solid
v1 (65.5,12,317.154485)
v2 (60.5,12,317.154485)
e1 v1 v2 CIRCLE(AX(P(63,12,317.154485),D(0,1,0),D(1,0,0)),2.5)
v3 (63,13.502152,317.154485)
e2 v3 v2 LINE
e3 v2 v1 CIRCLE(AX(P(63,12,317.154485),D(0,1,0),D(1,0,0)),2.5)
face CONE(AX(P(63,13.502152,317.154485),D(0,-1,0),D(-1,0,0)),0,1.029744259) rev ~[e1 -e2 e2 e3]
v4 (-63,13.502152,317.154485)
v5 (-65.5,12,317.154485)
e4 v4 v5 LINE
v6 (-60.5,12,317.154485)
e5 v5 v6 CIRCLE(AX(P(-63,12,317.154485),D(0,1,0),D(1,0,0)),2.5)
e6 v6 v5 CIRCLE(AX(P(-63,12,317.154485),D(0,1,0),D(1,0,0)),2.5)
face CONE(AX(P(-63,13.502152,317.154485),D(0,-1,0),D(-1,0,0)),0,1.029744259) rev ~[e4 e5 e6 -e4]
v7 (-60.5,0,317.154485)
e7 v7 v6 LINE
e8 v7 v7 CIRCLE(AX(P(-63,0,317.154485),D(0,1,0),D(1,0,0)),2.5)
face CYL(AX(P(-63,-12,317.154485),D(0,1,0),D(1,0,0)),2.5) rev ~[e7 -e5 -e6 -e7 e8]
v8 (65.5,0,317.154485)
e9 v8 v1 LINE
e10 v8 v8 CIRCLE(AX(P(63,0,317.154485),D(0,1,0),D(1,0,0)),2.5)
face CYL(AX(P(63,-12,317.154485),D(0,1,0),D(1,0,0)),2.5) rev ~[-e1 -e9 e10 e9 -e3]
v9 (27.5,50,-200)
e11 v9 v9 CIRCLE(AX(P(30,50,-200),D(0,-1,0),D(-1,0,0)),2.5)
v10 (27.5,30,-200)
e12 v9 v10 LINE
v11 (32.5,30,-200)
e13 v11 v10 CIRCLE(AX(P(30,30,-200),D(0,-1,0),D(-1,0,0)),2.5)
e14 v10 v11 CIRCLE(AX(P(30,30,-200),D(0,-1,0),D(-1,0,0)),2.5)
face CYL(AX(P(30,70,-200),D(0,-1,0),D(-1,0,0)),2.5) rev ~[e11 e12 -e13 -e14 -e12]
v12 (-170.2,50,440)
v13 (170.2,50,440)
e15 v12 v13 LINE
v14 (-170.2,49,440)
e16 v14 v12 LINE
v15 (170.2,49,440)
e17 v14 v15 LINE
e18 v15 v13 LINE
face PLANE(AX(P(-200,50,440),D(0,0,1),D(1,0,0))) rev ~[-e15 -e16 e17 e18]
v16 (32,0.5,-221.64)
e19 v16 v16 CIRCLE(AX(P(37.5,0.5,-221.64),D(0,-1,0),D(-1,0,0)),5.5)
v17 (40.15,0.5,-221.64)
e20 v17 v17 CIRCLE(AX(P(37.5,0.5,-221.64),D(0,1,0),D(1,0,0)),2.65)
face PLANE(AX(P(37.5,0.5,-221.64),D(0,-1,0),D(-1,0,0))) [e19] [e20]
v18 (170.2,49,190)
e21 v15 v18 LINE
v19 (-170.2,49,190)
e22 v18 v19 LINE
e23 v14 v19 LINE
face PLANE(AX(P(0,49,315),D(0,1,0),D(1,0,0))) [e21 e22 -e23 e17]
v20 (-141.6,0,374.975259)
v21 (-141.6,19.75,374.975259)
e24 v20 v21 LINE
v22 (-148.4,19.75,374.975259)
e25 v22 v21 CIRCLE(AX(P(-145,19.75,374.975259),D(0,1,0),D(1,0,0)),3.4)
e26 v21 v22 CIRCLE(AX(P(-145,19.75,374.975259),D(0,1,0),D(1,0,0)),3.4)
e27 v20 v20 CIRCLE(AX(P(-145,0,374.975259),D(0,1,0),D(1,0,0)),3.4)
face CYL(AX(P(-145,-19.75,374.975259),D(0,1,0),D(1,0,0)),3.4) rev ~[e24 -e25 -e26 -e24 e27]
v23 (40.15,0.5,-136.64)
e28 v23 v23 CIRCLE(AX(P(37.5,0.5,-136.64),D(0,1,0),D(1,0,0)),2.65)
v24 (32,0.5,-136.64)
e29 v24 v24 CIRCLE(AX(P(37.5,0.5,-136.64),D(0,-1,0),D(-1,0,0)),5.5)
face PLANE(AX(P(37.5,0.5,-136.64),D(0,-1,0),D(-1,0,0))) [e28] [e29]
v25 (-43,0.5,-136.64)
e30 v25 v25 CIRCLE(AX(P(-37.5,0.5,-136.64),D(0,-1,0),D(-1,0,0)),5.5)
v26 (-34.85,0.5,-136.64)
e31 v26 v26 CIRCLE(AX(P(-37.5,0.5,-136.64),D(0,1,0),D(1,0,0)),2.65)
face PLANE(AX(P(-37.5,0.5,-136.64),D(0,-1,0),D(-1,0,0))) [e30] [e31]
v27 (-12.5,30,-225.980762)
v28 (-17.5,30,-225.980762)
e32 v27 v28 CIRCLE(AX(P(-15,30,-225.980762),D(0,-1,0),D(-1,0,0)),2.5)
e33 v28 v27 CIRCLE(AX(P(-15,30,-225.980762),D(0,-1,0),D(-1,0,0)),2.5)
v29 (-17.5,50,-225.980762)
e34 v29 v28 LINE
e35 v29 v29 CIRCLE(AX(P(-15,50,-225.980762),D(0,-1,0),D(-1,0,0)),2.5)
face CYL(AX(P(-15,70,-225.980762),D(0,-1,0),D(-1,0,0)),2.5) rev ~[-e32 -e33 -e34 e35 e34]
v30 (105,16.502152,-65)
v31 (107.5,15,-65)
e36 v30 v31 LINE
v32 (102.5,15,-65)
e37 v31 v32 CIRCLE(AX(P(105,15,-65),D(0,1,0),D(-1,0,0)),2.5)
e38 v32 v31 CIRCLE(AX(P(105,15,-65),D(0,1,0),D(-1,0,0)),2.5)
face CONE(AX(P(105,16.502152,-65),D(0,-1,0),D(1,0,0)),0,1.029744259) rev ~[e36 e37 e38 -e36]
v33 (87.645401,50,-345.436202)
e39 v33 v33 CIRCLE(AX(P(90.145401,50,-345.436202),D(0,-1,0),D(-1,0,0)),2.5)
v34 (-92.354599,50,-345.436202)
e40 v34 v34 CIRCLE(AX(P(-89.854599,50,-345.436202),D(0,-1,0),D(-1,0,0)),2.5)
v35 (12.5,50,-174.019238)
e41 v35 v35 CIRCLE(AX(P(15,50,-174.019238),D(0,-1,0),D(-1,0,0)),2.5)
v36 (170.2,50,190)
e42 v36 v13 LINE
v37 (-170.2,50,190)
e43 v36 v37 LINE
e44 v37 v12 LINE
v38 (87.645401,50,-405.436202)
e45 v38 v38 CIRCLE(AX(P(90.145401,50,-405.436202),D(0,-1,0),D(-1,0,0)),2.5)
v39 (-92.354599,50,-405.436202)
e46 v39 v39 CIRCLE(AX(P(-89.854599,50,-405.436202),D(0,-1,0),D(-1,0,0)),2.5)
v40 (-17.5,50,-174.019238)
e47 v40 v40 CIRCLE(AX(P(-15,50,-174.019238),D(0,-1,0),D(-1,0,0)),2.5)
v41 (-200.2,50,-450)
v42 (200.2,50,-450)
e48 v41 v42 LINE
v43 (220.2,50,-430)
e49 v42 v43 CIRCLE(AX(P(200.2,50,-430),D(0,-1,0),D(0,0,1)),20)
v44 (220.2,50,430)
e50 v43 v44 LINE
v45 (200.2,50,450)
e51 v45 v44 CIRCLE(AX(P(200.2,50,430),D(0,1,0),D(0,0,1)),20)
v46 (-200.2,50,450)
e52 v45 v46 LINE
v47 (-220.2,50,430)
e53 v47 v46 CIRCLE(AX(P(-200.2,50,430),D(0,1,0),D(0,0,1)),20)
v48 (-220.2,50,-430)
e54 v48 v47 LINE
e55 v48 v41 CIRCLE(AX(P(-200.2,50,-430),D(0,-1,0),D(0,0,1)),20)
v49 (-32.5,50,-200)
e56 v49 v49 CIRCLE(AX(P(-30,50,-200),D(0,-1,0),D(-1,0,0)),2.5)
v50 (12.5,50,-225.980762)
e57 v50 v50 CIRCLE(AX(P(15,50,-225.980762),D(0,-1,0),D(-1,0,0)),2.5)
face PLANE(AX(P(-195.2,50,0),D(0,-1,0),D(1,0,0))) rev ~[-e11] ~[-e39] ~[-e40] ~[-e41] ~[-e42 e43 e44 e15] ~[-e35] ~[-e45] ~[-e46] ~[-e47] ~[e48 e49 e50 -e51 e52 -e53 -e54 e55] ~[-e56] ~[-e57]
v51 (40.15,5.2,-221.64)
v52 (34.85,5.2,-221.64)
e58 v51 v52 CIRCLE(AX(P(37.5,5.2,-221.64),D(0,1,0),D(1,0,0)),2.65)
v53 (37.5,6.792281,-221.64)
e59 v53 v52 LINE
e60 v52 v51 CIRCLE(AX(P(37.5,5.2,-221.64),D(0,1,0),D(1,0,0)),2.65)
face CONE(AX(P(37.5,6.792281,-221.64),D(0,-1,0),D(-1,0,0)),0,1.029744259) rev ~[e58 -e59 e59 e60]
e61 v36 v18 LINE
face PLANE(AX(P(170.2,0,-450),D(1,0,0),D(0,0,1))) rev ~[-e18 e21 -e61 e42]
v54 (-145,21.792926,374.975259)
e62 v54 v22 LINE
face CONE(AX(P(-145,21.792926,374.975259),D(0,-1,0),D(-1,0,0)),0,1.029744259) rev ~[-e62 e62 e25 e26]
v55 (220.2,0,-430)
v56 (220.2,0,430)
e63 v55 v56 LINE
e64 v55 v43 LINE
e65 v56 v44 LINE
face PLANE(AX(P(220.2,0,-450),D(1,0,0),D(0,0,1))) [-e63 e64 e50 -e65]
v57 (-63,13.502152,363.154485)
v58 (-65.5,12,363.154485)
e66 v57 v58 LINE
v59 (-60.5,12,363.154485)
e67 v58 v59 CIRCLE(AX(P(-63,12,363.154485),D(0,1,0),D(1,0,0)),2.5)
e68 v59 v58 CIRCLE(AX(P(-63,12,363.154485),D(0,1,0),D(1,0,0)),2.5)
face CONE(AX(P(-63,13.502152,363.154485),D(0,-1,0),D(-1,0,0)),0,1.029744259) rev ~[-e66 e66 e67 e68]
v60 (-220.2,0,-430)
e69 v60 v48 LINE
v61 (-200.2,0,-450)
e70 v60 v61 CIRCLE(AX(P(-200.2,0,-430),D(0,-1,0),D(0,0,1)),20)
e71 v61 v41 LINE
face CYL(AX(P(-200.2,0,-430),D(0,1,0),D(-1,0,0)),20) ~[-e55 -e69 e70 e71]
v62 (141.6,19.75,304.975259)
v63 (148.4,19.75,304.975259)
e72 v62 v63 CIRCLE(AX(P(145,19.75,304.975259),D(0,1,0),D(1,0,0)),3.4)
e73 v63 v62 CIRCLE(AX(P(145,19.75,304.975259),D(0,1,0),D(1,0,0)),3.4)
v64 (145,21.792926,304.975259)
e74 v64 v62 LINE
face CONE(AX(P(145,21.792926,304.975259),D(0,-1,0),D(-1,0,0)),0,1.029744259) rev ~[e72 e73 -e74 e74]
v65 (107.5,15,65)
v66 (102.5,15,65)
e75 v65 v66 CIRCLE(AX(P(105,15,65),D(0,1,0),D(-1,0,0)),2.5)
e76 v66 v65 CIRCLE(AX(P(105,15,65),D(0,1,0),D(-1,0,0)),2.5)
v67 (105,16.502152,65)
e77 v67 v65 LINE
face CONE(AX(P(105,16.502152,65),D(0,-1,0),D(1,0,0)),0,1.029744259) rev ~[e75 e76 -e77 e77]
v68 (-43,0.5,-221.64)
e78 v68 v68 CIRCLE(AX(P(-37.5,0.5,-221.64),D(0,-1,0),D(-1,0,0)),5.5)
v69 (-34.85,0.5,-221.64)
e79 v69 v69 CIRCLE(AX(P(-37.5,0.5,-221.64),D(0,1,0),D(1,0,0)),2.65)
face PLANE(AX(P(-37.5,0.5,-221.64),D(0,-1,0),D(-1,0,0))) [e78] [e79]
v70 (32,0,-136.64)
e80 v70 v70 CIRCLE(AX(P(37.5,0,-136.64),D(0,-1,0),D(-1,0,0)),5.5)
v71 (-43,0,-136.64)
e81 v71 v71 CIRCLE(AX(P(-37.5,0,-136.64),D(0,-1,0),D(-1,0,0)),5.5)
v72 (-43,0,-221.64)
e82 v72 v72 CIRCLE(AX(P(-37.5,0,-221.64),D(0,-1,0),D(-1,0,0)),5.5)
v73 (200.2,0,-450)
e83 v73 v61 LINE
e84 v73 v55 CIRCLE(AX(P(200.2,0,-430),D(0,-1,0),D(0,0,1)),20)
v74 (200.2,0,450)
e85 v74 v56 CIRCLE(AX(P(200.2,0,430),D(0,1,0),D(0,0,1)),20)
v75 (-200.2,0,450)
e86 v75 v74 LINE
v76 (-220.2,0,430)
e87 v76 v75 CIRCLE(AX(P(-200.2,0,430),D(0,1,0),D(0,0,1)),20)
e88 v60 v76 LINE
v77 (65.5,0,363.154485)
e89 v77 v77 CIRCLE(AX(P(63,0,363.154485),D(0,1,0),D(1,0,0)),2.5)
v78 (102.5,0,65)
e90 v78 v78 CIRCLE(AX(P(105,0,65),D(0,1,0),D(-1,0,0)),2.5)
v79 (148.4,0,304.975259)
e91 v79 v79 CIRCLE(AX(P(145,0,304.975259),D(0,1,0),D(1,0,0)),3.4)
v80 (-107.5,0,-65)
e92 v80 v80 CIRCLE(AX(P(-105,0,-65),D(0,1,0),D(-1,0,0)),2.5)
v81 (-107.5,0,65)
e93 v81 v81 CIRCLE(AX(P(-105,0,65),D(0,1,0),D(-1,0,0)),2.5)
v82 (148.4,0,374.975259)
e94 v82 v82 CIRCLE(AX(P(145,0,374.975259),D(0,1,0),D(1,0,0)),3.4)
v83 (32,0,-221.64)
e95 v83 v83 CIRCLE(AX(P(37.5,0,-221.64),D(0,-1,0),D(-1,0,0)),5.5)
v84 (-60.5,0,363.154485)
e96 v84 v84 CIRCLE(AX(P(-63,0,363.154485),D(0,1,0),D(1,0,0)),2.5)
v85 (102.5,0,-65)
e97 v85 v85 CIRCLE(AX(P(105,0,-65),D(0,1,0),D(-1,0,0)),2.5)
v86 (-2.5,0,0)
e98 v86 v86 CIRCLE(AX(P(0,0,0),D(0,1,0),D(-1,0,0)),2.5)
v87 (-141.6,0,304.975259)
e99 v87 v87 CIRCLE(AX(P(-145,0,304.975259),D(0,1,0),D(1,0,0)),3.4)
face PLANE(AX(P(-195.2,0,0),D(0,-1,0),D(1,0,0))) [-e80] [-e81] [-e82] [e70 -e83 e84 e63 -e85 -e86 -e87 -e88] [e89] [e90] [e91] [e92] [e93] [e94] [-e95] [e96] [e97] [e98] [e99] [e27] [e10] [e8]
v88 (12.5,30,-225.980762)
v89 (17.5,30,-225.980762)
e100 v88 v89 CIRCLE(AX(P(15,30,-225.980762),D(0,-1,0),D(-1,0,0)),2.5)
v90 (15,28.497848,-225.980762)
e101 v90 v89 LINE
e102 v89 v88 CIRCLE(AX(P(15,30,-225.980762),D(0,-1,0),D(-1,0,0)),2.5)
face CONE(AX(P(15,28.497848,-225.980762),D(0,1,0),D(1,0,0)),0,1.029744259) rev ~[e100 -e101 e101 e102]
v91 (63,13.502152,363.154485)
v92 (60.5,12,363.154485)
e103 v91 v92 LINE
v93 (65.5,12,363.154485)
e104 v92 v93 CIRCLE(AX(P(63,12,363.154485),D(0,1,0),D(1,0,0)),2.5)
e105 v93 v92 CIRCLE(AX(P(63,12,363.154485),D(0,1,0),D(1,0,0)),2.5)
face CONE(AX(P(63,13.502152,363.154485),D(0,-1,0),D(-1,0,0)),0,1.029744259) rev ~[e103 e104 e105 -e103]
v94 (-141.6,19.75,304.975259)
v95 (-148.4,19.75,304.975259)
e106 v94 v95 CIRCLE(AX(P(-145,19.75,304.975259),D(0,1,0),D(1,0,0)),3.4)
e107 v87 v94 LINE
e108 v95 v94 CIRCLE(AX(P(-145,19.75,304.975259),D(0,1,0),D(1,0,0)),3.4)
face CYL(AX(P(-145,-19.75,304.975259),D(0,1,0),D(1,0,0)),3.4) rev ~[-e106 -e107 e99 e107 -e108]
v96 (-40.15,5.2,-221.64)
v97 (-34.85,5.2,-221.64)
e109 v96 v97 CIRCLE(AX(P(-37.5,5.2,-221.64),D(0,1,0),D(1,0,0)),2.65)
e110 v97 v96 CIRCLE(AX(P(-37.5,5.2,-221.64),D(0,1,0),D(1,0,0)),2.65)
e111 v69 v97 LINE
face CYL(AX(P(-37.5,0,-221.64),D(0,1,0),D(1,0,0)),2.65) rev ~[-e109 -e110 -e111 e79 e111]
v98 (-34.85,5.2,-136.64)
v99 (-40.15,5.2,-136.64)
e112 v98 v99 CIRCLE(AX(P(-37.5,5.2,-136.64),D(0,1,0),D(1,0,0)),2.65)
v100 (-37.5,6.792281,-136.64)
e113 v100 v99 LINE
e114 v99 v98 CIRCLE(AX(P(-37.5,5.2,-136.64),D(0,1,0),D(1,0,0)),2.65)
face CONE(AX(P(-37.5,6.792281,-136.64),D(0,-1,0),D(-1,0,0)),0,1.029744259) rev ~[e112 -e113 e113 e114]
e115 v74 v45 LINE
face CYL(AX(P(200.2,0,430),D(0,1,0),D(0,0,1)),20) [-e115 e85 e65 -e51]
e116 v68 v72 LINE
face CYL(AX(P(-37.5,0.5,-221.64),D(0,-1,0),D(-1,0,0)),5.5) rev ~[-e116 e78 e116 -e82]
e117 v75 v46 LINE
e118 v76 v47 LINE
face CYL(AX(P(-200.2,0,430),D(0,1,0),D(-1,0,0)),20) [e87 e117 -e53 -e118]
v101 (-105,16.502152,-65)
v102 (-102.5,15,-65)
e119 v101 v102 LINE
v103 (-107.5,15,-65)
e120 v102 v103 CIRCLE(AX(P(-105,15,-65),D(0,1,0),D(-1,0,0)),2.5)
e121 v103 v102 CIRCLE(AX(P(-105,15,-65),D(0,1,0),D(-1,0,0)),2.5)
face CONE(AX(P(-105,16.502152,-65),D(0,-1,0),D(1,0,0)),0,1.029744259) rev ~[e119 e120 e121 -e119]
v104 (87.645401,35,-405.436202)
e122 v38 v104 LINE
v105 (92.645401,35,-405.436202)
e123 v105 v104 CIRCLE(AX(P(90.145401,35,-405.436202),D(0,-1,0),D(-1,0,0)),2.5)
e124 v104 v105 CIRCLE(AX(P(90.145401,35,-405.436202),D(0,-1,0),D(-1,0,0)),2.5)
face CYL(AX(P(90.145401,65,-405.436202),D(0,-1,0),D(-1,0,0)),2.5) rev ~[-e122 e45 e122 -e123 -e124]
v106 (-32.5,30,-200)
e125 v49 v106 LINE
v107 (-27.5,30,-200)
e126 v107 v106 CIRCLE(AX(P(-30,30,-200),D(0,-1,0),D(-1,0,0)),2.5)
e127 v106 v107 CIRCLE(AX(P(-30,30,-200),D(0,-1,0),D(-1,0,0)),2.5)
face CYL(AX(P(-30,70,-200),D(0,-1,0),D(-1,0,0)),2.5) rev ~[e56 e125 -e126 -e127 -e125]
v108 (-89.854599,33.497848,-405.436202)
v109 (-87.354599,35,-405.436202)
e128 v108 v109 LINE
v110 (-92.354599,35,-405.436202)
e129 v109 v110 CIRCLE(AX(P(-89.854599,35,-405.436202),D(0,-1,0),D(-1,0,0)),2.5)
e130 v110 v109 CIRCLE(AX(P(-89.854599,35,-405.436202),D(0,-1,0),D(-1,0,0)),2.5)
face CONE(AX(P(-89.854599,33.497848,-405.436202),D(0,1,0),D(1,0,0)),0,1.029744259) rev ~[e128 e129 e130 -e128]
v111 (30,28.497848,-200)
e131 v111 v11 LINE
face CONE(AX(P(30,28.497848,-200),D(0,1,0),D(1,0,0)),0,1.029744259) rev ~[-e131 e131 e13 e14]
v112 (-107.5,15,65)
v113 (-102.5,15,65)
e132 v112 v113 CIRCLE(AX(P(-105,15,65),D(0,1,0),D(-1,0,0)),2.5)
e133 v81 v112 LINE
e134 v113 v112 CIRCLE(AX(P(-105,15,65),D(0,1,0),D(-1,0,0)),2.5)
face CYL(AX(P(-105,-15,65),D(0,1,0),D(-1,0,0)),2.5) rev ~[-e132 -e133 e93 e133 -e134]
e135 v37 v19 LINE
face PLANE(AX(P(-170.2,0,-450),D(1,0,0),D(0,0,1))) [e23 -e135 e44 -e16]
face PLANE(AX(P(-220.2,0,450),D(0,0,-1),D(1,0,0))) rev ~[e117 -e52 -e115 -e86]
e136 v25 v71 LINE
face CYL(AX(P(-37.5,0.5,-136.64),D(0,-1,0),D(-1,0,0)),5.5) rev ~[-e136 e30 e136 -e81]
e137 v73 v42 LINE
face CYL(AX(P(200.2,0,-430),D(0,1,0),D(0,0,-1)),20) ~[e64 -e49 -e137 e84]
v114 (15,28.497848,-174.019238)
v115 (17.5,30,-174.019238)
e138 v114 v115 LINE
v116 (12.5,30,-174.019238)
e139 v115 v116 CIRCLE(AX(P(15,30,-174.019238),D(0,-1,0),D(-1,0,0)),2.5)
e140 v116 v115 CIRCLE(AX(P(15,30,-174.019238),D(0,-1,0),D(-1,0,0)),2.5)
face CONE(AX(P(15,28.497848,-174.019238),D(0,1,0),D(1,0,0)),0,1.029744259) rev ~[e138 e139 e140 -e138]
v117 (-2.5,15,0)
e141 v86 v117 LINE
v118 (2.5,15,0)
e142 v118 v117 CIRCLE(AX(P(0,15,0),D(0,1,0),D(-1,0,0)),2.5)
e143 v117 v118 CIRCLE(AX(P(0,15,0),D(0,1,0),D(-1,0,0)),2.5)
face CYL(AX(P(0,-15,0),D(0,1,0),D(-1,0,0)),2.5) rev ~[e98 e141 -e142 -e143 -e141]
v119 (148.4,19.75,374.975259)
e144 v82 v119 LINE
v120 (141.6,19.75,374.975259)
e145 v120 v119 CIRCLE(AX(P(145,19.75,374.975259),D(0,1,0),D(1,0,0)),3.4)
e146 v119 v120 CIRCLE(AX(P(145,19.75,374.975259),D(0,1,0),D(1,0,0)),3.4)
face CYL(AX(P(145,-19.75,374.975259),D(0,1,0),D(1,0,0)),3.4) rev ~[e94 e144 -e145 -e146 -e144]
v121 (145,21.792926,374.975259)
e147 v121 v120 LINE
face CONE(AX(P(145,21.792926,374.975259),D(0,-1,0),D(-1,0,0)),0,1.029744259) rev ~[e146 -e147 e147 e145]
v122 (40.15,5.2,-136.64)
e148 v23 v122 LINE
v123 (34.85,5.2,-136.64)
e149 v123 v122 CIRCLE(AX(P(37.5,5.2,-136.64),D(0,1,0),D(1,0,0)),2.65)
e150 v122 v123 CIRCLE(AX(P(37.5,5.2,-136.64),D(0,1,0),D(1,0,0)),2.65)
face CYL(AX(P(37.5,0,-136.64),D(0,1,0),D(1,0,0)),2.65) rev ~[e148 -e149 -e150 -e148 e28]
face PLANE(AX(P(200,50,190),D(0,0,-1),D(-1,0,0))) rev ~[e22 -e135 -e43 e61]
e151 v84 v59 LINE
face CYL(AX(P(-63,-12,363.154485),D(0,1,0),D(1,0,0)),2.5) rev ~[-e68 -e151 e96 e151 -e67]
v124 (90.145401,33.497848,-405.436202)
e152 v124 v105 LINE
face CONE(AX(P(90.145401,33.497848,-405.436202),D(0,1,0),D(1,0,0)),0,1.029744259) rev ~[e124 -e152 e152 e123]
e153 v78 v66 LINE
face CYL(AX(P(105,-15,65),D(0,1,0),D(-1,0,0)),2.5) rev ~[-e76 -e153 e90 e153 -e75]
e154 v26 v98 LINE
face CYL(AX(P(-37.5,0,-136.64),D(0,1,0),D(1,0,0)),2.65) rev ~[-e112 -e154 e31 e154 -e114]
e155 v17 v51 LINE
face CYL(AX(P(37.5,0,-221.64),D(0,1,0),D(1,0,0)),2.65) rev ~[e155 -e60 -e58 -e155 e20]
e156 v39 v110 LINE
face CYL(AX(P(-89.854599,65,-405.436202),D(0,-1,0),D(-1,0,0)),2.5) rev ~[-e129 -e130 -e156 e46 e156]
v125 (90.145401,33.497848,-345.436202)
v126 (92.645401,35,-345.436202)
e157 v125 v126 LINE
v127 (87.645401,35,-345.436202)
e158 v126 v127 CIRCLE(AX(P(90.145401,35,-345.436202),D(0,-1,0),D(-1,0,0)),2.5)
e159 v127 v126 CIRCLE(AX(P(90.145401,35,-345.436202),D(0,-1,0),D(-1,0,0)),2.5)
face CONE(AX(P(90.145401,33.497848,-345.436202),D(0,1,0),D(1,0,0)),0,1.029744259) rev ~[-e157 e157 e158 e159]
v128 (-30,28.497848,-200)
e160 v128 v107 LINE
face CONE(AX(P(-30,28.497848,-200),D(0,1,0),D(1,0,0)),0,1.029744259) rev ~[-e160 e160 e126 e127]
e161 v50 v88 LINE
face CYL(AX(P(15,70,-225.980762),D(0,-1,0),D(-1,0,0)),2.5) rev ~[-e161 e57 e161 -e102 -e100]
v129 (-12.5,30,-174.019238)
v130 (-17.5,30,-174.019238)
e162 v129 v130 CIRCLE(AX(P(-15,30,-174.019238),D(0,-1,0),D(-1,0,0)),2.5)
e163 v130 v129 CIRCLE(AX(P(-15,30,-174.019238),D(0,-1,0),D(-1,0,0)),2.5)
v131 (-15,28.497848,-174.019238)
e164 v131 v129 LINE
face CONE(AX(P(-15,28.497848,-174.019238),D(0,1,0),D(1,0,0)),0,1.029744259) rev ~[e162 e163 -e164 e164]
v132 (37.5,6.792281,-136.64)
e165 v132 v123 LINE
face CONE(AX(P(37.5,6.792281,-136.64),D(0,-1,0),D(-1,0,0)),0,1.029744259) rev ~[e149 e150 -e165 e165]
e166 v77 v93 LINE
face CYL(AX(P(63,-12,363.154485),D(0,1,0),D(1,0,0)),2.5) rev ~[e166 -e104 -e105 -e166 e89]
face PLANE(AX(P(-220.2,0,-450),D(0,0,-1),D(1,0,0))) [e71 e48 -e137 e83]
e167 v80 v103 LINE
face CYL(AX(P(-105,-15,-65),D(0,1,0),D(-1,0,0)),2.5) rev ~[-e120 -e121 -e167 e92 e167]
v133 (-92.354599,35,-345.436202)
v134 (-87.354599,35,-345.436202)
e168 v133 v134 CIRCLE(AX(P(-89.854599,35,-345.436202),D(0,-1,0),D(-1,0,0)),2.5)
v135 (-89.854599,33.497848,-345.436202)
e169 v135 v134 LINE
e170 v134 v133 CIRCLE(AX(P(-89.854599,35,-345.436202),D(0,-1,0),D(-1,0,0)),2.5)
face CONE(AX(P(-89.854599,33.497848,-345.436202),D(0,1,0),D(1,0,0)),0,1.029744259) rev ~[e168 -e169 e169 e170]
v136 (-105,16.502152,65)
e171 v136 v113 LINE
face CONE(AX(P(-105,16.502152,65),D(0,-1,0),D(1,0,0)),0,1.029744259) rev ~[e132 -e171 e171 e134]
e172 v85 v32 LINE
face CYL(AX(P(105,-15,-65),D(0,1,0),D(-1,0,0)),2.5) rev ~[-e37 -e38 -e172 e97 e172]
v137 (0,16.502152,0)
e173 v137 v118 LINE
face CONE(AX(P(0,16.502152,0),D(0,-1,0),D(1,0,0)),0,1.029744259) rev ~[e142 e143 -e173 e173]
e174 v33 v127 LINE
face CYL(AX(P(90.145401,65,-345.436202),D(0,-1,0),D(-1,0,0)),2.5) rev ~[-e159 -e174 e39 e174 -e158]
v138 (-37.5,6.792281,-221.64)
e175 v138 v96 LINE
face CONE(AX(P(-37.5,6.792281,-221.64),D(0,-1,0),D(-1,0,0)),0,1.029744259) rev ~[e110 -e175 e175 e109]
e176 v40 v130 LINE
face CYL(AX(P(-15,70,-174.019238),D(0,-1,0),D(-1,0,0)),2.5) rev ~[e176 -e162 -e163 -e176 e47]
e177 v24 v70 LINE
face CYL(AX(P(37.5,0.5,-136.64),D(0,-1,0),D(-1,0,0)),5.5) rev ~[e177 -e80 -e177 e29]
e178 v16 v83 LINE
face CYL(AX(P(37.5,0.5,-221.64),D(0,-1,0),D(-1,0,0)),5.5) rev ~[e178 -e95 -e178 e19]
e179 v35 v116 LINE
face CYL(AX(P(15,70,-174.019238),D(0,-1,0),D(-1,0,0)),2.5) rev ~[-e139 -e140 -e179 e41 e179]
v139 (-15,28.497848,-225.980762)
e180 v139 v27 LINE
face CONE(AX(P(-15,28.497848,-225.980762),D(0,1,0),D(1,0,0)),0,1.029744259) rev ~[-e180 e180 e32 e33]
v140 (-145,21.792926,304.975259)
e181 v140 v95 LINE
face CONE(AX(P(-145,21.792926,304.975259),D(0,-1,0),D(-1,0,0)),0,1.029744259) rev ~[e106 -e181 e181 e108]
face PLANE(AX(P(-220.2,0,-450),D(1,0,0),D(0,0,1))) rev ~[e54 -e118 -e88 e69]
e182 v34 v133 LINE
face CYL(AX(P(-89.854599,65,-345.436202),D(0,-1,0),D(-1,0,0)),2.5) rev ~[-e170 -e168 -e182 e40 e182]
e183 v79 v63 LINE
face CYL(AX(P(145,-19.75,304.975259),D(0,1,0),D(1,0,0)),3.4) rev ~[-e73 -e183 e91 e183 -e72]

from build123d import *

# Parameters (mm, degrees)
SKETCH_1_W              = 340.4
SKETCH_1_H              = 900
EXTRUDE_1_DEPTH         = 50
HOLE_WIZARD_M6_3_D      = 5
HOLE_WIZARD_M6_3_DEPTH  = 20
HOLE_WIZARD_M6_3_TIP    = 1.502151548
CUT_EXTRUDE_1_DEPTH     = 1
HOLE_WIZARD_M6_4_D      = 5
HOLE_WIZARD_M6_4_DEPTH  = 15
HOLE_WIZARD_M6_4_TIP    = 1.502151548
HOLE_WIZARD_M6_9_D      = 5
HOLE_WIZARD_M6_9_DEPTH  = 12
HOLE_WIZARD_M6_9_TIP    = 1.502151548
SKETCH_32_W             = 50
SKETCH_32_H             = 900
EXTRUDE_2_DEPTH         = 50
HOLE_WIZARD_M8_2_D      = 6.8
HOLE_WIZARD_M8_2_DEPTH  = 19.75
HOLE_WIZARD_M8_2_TIP    = 2.042926105
FILLET_1_R              = 20
HOLE_WIZARD_M6_12_D     = 5
HOLE_WIZARD_M6_12_DEPTH = 15
HOLE_WIZARD_M6_12_TIP   = 1.502151548
M5_C_1_D                = 5.3
M5_C_1_DEPTH            = 5.2
M5_C_1_CBORE_D          = 11
M5_C_1_CBORE_DEPTH      = 0.5
M5_C_1_TIP              = 1.59228064


with BuildPart() as part:
    # Sketch 1 → Extrude 1 (new body)
    with BuildSketch(Plane(origin=(0, 0, 0), x_dir=(1, 0, 0), z_dir=(0, 1, 0))):
        Rectangle(SKETCH_1_W, SKETCH_1_H)
    extrude(amount=EXTRUDE_1_DEPTH)

    # Hole Wizard M6 _3
    with Locations(Plane(origin=(0, 50, 0), x_dir=(1, 0, 0), z_dir=(0, 1, 0))):
        with Locations((15, 225.980762114), (15, 174.019237886), (-15, 174.019237886), (-30, 200), (-15, 225.980762114), (30, 200)):
            Hole(HOLE_WIZARD_M6_3_D / 2, depth=HOLE_WIZARD_M6_3_DEPTH)
            with Locations((0, 0, -(HOLE_WIZARD_M6_3_DEPTH + HOLE_WIZARD_M6_3_TIP / 2))):  # 118° drill point
                Cone(0, HOLE_WIZARD_M6_3_D / 2, HOLE_WIZARD_M6_3_TIP, mode=Mode.SUBTRACT)

    # Sketch 16 → Cut-Extrude 1 (cut)
    with BuildSketch(Plane(origin=(0, 50, 0), x_dir=(1, 0, 0), z_dir=(0, 1, 0))):
        Polygon((0, -440), (200, -440), (200, -190), (-200, -190), (-200, -440), align=None)
    extrude(amount=-CUT_EXTRUDE_1_DEPTH, mode=Mode.SUBTRACT)

    # Hole Wizard M6 _4
    with Locations(Plane.XZ):
        with Locations((0, 0), (105, 65), (-105, -65), (-105, 65), (105, -65)):
            Hole(HOLE_WIZARD_M6_4_D / 2, depth=HOLE_WIZARD_M6_4_DEPTH)
            with Locations((0, 0, -(HOLE_WIZARD_M6_4_DEPTH + HOLE_WIZARD_M6_4_TIP / 2))):  # 118° drill point
                Cone(0, HOLE_WIZARD_M6_4_D / 2, HOLE_WIZARD_M6_4_TIP, mode=Mode.SUBTRACT)

    # Hole Wizard M6 _9
    with Locations(Plane(origin=(0, 0, 0), x_dir=(-1, 0, 0), z_dir=(0, -1, 0))):
        with Locations((-63, -317.154485024), (63, -317.154485024), (63, -363.154485024), (-63, -363.154485024)):
            Hole(HOLE_WIZARD_M6_9_D / 2, depth=HOLE_WIZARD_M6_9_DEPTH)
            with Locations((0, 0, -(HOLE_WIZARD_M6_9_DEPTH + HOLE_WIZARD_M6_9_TIP / 2))):  # 118° drill point
                Cone(0, HOLE_WIZARD_M6_9_D / 2, HOLE_WIZARD_M6_9_TIP, mode=Mode.SUBTRACT)

    # Sketch 32 → Extrude 2 (add)
    with BuildSketch(Plane.XZ):
        with Locations((-195.2, 0)):
            Rectangle(SKETCH_32_W, SKETCH_32_H)
        with Locations((195.2, 0)):
            Rectangle(SKETCH_32_W, SKETCH_32_H)
    extrude(amount=-EXTRUDE_2_DEPTH)

    # Hole Wizard M8 _2
    with Locations(Plane(origin=(0, 0, 0), x_dir=(-1, 0, 0), z_dir=(0, -1, 0))):
        with Locations((-145, -304.975259132), (-145, -374.975259132), (145, -304.975259132), (145, -374.975259132)):
            Hole(HOLE_WIZARD_M8_2_D / 2, depth=HOLE_WIZARD_M8_2_DEPTH)
            with Locations((0, 0, -(HOLE_WIZARD_M8_2_DEPTH + HOLE_WIZARD_M8_2_TIP / 2))):  # 118° drill point
                Cone(0, HOLE_WIZARD_M8_2_D / 2, HOLE_WIZARD_M8_2_TIP, mode=Mode.SUBTRACT)

    # Fillet 1
    fillet_1_edges = [part.edges().sort_by_distance(p)[0] for p in [
        (-220.2, 25, -450),
        (-220.2, 25, 450),
        (220.2, 25, 450),
        (220.2, 25, -450),
    ]]
    fillet(fillet_1_edges, radius=FILLET_1_R)

    # Hole Wizard M6 _12
    with Locations(Plane(origin=(0, 50, 0), x_dir=(1, 0, 0), z_dir=(0, 1, 0))):
        with Locations((-89.854599393, 405.43620182), (-89.854599393, 345.43620182), (90.145400607, 345.43620182), (90.145400607, 405.43620182)):
            Hole(HOLE_WIZARD_M6_12_D / 2, depth=HOLE_WIZARD_M6_12_DEPTH)
            with Locations((0, 0, -(HOLE_WIZARD_M6_12_DEPTH + HOLE_WIZARD_M6_12_TIP / 2))):  # 118° drill point
                Cone(0, HOLE_WIZARD_M6_12_D / 2, HOLE_WIZARD_M6_12_TIP, mode=Mode.SUBTRACT)

    # M5 _C_1
    with Locations(Plane(origin=(0, 0, 0), x_dir=(-1, 0, 0), z_dir=(0, -1, 0))):
        with Locations((-37.5, 221.64), (37.5, 221.64), (-37.5, 136.64), (37.5, 136.64)):
            CounterBoreHole(M5_C_1_D / 2, M5_C_1_CBORE_D / 2, M5_C_1_CBORE_DEPTH, depth=M5_C_1_DEPTH)
            with Locations((0, 0, -(M5_C_1_DEPTH + M5_C_1_TIP / 2))):  # 118° drill point
                Cone(0, M5_C_1_D / 2, M5_C_1_TIP, mode=Mode.SUBTRACT)


solid = part.part
